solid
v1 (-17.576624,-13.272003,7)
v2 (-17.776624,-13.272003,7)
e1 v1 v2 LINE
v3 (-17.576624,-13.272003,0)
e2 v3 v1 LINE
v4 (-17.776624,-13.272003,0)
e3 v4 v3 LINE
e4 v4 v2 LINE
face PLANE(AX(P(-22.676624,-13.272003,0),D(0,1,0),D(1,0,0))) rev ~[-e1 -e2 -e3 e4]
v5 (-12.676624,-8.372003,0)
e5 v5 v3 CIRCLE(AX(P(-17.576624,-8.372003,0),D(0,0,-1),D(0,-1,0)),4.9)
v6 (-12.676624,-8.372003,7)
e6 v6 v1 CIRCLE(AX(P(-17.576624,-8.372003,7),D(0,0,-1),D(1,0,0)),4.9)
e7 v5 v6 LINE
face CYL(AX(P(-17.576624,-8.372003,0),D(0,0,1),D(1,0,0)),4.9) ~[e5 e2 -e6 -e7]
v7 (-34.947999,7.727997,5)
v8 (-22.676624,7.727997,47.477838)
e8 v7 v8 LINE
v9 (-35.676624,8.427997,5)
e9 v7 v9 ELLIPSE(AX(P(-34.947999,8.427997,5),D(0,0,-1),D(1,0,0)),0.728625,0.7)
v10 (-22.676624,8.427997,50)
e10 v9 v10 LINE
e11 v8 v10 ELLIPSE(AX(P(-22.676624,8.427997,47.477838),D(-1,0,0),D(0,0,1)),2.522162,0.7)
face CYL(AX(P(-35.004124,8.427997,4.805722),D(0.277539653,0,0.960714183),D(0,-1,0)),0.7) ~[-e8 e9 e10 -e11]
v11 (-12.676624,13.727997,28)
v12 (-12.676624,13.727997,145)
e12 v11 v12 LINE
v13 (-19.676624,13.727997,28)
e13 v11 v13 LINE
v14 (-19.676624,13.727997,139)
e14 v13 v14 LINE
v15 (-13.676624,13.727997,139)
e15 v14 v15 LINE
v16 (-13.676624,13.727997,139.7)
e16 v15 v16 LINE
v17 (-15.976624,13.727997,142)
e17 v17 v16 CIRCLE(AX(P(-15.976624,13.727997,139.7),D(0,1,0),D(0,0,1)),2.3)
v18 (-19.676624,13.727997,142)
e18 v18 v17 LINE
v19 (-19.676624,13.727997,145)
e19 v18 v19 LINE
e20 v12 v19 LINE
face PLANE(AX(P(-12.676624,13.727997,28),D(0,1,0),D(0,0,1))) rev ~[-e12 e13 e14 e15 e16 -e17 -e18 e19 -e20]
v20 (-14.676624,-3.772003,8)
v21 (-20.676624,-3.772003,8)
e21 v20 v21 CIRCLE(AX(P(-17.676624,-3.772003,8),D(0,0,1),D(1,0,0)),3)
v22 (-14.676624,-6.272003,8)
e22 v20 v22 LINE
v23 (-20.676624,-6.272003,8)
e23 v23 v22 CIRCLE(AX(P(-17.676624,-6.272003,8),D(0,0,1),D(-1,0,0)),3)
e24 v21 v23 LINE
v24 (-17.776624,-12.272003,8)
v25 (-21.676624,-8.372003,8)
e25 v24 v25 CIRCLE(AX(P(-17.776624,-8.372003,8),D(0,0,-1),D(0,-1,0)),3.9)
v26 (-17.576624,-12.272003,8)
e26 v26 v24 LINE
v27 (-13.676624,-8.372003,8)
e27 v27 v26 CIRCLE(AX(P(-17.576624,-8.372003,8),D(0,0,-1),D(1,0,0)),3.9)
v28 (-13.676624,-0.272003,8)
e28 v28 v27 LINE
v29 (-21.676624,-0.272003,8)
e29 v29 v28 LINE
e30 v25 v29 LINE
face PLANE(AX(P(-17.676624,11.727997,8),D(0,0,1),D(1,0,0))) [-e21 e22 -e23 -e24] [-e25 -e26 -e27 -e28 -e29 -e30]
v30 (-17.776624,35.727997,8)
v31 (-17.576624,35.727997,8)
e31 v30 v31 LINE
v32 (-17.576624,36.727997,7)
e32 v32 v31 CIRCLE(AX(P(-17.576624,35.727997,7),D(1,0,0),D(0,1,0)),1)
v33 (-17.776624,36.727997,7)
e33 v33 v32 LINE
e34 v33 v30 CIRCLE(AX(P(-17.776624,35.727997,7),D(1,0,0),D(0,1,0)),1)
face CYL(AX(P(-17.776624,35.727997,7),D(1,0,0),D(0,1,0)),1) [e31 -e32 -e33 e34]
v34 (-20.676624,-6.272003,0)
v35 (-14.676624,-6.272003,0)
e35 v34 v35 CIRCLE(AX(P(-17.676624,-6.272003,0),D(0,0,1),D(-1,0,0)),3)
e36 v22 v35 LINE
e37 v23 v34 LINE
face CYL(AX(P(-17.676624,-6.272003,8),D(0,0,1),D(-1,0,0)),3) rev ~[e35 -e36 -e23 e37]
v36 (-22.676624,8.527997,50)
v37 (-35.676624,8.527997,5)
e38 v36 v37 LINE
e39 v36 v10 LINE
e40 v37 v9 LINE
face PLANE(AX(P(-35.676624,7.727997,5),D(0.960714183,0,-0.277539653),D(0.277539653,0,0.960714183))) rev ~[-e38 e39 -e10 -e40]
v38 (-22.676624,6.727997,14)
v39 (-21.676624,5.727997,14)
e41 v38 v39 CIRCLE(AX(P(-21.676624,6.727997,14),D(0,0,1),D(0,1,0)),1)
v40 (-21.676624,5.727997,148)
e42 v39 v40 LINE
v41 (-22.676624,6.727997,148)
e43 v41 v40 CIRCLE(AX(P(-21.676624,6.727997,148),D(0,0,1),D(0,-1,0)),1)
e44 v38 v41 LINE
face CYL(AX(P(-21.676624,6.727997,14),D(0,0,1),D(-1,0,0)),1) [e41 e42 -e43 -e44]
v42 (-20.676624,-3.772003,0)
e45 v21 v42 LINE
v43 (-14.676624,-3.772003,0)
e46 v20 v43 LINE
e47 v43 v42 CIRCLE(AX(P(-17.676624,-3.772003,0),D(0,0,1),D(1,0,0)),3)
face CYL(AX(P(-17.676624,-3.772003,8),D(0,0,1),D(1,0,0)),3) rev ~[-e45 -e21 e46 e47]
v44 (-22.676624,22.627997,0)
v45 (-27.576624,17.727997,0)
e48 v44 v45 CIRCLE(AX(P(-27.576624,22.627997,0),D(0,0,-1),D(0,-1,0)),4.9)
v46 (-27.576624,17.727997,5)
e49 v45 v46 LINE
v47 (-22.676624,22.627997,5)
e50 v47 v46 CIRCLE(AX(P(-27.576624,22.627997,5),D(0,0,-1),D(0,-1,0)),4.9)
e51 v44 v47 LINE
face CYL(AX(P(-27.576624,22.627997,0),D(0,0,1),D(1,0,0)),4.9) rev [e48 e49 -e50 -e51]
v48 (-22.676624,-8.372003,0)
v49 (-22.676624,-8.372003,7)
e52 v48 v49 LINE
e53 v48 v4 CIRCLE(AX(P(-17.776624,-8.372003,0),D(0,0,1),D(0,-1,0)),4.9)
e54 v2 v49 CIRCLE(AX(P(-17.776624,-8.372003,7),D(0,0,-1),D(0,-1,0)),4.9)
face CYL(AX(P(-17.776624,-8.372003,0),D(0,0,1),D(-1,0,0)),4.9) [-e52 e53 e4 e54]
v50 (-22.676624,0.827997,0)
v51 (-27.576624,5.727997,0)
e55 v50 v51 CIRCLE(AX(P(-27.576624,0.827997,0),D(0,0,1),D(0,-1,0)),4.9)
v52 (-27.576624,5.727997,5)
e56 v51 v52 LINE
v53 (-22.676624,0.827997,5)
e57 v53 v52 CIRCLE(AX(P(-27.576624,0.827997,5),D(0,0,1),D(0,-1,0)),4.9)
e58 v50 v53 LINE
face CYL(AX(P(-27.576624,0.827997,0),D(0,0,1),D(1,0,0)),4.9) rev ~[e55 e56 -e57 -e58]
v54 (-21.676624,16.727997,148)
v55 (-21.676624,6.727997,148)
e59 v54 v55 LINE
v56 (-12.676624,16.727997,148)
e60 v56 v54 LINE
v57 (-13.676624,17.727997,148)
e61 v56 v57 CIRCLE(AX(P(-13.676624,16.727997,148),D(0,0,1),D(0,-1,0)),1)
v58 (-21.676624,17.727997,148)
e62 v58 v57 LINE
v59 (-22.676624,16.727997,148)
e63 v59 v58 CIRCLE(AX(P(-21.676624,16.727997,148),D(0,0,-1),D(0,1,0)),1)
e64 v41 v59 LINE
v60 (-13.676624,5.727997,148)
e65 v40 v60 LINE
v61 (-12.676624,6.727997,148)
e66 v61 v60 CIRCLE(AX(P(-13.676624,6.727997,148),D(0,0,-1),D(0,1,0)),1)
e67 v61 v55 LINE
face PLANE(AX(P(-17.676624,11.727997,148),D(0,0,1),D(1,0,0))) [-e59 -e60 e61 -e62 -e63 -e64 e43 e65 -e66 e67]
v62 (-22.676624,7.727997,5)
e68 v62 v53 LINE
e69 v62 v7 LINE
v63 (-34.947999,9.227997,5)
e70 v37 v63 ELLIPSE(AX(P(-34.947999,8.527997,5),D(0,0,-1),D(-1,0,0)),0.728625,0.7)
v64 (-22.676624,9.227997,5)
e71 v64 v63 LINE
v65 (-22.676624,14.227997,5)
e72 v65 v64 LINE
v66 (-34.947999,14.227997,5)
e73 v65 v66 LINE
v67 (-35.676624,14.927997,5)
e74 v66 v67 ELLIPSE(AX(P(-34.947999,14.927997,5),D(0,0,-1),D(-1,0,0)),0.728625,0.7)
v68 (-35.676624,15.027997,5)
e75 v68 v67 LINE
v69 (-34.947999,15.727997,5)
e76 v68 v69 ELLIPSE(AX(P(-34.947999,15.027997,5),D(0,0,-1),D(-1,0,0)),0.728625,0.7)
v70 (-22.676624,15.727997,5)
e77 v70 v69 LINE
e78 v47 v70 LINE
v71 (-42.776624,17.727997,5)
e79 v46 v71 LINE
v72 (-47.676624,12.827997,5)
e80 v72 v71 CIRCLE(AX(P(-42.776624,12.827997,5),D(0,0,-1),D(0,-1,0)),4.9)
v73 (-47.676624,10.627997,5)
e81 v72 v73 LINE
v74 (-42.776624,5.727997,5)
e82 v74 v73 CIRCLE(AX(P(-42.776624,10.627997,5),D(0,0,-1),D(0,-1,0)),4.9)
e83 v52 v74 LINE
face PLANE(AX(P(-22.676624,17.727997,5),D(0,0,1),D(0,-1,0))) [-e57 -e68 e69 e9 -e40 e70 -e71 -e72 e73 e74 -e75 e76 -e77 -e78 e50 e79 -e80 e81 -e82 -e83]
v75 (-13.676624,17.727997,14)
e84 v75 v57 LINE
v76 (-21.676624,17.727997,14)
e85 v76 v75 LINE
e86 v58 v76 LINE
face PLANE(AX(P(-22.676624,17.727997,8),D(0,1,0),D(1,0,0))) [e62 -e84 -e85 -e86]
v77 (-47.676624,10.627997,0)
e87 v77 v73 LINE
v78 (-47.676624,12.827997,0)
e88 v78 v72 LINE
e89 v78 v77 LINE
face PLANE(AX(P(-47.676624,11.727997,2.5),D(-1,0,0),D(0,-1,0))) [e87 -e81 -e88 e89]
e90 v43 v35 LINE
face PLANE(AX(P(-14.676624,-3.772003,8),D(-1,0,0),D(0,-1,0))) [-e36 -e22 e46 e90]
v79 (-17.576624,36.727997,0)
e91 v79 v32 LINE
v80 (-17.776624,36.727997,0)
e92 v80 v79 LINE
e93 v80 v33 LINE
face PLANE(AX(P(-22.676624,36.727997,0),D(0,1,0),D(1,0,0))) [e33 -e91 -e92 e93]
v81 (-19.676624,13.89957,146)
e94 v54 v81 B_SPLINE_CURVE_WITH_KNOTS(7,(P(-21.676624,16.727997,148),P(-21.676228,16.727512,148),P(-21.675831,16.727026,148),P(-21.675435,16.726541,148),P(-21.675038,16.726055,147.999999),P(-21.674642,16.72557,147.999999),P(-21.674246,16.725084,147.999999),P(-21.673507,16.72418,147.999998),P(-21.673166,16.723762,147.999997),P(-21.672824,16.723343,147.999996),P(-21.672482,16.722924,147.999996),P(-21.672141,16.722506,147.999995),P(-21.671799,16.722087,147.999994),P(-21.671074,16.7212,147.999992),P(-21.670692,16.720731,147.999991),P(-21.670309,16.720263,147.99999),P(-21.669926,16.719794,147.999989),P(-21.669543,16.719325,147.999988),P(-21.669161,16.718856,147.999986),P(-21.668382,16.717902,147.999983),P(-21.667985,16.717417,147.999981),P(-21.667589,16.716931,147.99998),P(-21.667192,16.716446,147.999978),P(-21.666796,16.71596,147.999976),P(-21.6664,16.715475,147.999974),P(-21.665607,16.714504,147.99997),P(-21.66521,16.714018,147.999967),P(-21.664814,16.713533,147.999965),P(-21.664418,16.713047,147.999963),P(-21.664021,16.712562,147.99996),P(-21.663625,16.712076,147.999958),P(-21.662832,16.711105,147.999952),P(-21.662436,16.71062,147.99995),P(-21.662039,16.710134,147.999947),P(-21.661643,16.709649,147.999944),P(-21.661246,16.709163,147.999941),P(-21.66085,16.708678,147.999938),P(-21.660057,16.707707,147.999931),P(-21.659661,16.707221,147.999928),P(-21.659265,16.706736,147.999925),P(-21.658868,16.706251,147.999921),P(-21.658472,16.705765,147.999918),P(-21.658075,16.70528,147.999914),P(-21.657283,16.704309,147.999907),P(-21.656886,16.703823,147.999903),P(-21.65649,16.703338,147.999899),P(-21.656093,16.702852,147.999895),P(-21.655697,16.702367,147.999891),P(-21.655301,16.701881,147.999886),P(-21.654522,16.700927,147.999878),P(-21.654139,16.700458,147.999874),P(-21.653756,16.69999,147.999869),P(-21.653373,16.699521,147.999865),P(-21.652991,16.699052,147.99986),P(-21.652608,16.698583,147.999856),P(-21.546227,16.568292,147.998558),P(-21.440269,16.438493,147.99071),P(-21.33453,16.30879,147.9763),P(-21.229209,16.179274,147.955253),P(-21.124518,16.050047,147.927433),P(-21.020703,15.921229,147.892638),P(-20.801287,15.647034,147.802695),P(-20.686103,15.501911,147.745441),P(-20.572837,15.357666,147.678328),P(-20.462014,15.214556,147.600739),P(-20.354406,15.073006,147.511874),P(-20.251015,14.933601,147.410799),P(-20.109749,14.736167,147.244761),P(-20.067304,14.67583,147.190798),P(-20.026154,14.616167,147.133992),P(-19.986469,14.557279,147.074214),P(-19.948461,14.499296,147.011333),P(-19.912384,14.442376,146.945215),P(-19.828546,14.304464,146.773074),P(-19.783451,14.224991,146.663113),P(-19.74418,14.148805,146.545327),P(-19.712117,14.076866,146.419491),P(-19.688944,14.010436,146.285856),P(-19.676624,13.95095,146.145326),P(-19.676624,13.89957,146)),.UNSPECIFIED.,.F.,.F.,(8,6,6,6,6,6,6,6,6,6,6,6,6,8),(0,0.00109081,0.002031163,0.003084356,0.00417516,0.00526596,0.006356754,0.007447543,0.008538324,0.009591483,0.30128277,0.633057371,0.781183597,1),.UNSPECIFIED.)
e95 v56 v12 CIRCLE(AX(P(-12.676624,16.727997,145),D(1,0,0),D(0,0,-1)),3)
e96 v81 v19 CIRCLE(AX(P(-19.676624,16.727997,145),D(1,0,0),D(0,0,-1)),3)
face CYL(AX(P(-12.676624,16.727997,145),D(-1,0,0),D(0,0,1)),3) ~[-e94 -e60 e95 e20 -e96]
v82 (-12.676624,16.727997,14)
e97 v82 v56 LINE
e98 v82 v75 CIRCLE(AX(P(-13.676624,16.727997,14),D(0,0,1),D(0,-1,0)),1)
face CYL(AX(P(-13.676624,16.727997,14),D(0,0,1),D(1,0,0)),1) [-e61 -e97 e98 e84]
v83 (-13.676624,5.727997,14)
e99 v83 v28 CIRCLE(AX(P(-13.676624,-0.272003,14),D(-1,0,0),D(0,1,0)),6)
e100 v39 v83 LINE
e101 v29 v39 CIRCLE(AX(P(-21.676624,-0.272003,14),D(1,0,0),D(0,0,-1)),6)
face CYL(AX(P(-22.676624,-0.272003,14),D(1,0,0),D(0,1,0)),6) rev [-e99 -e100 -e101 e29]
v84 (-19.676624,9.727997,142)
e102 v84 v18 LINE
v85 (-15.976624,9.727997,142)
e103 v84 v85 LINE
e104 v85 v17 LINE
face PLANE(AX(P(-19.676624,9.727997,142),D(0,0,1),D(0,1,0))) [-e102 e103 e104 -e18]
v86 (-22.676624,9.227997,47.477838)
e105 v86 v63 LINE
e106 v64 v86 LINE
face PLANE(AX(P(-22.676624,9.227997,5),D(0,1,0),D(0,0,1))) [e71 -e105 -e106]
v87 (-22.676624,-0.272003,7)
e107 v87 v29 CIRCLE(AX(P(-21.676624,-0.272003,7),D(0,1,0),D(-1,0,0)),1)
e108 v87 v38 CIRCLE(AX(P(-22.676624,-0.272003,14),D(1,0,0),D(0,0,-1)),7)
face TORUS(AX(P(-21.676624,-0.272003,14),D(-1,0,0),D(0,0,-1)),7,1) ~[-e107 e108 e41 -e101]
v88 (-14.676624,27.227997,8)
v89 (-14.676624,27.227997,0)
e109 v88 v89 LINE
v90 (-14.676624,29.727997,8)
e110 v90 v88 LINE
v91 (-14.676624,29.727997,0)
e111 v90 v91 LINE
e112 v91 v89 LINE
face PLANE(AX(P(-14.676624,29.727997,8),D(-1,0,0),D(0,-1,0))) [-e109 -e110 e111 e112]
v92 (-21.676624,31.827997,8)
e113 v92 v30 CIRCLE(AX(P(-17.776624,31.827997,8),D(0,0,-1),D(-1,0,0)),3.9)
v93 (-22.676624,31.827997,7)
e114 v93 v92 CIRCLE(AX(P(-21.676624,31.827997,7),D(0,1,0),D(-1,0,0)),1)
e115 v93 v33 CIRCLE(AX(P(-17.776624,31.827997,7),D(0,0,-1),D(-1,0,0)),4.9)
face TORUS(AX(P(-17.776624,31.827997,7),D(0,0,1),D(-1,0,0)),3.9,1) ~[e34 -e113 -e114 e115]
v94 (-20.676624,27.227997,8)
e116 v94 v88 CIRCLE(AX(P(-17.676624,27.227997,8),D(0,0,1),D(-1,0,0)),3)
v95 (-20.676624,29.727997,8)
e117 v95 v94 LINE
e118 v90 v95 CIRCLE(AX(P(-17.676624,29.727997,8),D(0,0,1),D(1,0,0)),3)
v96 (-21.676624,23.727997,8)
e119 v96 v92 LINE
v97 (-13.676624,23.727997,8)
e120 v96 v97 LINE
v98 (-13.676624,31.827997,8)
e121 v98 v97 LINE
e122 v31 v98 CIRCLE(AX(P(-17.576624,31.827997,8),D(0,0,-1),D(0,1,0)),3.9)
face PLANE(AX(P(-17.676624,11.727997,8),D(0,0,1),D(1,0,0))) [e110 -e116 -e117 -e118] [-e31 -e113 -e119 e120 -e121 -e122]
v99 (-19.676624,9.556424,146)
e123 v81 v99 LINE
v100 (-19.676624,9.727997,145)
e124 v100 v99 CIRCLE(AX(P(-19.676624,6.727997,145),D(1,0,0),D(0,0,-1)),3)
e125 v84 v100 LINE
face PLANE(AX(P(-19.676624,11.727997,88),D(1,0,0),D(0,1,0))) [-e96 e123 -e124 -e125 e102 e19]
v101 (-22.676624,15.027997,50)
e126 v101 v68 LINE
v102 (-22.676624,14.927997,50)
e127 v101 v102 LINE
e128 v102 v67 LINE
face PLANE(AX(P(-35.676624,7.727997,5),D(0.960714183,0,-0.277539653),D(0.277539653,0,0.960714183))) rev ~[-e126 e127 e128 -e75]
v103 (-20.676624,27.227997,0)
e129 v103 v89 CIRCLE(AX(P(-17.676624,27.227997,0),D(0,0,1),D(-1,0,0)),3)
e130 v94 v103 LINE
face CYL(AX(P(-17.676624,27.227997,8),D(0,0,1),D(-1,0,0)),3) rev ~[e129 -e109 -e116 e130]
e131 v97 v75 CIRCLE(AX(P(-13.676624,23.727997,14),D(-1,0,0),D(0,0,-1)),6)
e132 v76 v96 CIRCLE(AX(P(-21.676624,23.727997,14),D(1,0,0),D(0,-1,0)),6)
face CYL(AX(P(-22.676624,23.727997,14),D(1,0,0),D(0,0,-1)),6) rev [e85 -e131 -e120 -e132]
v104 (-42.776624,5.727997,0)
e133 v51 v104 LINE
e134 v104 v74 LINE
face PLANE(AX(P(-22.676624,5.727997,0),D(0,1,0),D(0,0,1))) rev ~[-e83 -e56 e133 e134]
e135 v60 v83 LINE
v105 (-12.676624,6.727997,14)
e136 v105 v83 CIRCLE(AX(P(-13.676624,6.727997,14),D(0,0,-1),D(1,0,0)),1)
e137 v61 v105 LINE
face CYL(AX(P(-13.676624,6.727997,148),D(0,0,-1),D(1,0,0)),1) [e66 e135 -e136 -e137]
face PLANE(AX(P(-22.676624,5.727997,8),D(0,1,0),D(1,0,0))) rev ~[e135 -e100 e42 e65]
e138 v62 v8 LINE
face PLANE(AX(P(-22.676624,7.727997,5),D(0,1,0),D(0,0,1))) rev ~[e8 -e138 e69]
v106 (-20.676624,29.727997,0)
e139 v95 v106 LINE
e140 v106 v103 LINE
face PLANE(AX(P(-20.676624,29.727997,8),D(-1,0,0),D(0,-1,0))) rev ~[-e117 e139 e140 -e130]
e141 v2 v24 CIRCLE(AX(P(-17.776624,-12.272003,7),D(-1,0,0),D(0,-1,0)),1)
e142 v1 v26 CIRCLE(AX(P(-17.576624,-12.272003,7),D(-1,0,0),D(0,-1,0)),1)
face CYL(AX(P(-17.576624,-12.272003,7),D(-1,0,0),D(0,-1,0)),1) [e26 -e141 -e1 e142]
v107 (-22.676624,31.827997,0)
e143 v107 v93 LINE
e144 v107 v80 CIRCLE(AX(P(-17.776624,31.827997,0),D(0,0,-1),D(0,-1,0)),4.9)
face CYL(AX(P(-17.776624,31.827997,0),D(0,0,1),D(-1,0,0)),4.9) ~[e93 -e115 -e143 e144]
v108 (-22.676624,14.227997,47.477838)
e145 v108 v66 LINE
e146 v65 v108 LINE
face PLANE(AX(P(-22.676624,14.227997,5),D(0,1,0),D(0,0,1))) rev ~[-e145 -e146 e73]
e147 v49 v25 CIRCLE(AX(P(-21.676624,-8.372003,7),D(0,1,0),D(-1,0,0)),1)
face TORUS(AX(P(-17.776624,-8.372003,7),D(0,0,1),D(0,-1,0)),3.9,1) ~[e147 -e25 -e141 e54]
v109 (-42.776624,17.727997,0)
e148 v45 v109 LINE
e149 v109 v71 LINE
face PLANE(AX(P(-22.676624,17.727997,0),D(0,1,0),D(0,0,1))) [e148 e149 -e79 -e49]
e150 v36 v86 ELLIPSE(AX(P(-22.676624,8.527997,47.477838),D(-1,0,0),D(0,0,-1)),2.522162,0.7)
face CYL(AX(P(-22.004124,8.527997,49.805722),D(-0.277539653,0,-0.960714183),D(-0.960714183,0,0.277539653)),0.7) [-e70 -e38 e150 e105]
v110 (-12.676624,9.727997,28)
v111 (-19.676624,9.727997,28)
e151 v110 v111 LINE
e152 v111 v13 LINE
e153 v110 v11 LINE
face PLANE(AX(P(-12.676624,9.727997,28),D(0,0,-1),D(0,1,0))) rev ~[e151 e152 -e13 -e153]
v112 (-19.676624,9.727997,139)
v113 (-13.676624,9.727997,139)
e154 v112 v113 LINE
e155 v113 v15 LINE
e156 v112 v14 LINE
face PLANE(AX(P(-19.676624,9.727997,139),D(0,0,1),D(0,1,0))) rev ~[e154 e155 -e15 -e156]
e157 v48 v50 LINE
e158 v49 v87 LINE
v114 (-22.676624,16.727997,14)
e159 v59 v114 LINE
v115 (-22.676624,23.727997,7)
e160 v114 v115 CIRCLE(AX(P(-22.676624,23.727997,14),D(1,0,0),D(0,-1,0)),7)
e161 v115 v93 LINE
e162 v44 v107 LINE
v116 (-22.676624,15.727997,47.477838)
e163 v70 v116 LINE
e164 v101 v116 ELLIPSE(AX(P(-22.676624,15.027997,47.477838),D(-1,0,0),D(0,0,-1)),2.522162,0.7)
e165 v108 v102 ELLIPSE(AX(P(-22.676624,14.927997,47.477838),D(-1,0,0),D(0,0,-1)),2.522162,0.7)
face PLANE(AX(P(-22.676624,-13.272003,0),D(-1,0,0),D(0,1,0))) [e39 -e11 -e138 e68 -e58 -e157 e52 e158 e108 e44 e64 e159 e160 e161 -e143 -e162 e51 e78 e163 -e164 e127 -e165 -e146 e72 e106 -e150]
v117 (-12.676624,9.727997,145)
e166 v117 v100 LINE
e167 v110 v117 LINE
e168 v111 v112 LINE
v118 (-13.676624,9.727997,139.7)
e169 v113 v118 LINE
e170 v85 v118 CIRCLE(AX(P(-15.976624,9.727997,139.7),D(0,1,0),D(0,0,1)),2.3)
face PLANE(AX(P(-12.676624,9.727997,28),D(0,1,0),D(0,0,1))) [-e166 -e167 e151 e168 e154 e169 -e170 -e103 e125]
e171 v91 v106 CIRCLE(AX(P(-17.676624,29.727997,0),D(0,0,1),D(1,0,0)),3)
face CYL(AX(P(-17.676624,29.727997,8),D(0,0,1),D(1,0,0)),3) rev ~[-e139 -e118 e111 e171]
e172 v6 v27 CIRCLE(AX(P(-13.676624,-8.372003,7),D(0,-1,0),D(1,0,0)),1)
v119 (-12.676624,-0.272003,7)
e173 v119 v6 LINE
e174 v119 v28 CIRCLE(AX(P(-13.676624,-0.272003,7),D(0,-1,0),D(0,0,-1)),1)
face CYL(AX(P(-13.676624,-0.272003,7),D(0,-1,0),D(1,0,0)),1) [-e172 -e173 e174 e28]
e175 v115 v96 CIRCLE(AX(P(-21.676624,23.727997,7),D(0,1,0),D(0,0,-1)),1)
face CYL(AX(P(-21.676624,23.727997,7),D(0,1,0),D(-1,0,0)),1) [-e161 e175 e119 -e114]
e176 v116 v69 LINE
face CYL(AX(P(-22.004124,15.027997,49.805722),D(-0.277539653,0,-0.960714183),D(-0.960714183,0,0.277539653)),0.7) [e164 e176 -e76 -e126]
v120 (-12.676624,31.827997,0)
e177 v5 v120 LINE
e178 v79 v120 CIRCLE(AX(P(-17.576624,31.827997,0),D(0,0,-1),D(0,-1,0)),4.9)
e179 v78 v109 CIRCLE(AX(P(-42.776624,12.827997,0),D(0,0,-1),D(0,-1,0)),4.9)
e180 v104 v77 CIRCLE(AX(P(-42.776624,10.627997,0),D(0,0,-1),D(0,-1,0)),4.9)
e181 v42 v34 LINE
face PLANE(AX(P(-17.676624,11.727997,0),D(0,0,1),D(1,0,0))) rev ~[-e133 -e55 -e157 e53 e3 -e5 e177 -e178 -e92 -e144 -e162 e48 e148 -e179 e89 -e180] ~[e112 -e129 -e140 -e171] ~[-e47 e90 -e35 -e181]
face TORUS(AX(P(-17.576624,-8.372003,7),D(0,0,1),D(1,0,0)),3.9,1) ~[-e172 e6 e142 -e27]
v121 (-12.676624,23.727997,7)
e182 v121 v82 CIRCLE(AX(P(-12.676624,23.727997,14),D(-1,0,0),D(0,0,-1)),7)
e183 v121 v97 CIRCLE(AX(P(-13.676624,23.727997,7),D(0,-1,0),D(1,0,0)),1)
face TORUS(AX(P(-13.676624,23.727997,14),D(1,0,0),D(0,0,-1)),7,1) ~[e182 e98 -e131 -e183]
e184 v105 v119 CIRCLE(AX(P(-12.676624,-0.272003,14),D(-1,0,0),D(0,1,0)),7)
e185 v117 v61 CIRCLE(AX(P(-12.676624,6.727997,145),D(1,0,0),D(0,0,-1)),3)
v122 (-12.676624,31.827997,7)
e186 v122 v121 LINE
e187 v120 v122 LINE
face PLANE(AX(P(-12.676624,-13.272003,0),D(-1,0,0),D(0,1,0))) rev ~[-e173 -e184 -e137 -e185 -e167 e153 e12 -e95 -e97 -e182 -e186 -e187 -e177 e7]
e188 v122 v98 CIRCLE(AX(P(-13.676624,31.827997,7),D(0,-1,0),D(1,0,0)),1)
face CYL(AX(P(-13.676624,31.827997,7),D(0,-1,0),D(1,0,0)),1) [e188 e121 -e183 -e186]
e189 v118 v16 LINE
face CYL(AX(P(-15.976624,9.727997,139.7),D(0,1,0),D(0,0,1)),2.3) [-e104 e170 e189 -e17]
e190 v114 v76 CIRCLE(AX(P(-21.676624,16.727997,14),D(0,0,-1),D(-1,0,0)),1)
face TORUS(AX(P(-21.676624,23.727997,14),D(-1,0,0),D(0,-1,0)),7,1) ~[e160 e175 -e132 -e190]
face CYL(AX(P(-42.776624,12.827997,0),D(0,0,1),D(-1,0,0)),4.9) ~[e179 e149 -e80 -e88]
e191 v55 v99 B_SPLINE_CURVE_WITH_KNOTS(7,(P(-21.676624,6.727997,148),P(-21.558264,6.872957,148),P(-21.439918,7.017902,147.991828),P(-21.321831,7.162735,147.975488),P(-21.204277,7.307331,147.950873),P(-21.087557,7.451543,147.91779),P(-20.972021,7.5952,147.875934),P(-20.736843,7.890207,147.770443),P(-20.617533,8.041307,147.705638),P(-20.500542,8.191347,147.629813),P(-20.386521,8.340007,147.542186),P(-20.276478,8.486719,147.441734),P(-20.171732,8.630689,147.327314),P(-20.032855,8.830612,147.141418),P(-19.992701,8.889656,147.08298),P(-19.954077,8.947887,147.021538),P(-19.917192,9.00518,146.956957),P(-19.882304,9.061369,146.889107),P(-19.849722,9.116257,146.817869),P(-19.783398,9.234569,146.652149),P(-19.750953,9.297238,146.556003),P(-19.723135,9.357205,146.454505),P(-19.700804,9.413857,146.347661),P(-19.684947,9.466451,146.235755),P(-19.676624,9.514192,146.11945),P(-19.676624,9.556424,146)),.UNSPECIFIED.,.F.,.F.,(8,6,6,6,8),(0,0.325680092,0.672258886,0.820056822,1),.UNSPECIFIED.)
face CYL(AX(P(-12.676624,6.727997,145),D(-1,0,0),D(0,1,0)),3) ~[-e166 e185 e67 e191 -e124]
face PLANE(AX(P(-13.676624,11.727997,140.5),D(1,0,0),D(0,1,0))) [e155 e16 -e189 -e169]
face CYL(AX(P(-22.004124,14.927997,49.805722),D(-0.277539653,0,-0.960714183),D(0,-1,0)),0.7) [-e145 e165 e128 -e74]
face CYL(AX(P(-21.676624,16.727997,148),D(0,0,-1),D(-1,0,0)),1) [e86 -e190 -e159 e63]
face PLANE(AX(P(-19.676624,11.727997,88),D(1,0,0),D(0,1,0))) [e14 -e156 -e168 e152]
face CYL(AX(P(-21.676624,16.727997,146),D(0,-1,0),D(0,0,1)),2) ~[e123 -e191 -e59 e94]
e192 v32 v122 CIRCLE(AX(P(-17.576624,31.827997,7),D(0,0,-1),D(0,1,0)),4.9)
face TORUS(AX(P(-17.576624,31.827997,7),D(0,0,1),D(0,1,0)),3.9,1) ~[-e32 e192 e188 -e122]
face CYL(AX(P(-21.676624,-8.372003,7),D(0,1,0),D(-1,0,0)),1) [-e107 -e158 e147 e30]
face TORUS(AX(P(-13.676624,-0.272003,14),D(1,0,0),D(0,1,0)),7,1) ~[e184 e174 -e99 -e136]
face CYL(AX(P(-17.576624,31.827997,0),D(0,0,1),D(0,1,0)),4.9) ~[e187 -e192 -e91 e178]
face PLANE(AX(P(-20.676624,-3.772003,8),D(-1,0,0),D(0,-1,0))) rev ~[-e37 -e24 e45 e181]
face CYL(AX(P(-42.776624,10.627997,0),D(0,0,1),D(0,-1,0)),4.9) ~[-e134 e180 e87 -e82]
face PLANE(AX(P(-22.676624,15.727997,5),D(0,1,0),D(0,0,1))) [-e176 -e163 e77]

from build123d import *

# Parameters (mm, degrees)
SKETCH_W        = 10
SKETCH_H        = 50
PAD_DEPTH       = 8
SKETCH001_W     = 10
SKETCH001_H     = 12
PAD001_DEPTH    = 140
SKETCH002_W     = 4
SKETCH002_H     = 120
POCKET_DEPTH    = 7
POCKET001_DEPTH = 8.001
SKETCH004_W     = 12
SKETCH004_H     = 5
PAD002_DEPTH    = 25
SKETCH005_W     = 1.5
SKETCH005_H     = 45
PAD003_DEPTH    = 13
POCKET002_DEPTH = 29.001
FILLET_R        = 4.9
FILLET001_R     = 6
FILLET002_R     = 0.7
FILLET003_R     = 1
SKETCH007_W     = 4
SKETCH007_H     = 3
PAD004_DEPTH    = 6
FILLET004_R     = 2.3
FILLET005_R     = 3
FILLET006_R     = 2


with BuildPart() as part:
    # Sketch → Pad (new body)
    with BuildSketch(Plane.XY):
        with Locations((-17.676624, 11.727997)):
            Rectangle(SKETCH_W, SKETCH_H)
    extrude(amount=PAD_DEPTH)

    # Sketch001 (on Face6 of Pad) → Pad001 (join)
    with BuildSketch(Plane.XY.offset(8)):
        with Locations((-17.676624, 11.727997)):
            Rectangle(SKETCH001_W, SKETCH001_H)
    extrude(amount=PAD001_DEPTH)

    # Sketch002 (on Face9 of Pad001) → Pocket (cut)
    with BuildSketch(Plane.YZ.offset(-12.676624)):
        with Locations((11.727997, 88)):
            Rectangle(SKETCH002_W, SKETCH002_H)
    extrude(amount=-POCKET_DEPTH, mode=Mode.SUBTRACT)

    # Sketch003 (on Face7 of Pocket) → Pocket001 (cut, through all)
    with BuildSketch(Plane.XY.offset(8)):
        with BuildLine():
            ThreePointArc((-14.676624, -3.772003), (-17.676624, -0.772003), (-20.676624, -3.772003))
            Line((-20.676624, -3.772003), (-20.676624, -6.272003))
            ThreePointArc((-20.676624, -6.272003), (-17.676624, -9.272003), (-14.676624, -6.272003))
            Line((-14.676624, -3.772003), (-14.676624, -6.272003))
        make_face()
        with BuildLine():
            ThreePointArc((-14.676624, 29.727997), (-17.676624, 32.727997), (-20.676624, 29.727997))
            Line((-20.676624, 29.727997), (-20.676624, 27.227997))
            ThreePointArc((-20.676624, 27.227997), (-17.676624, 24.227997), (-14.676624, 27.227997))
            Line((-14.676624, 29.727997), (-14.676624, 27.227997))
        make_face()
    extrude(amount=-POCKET001_DEPTH, mode=Mode.SUBTRACT)

    # Sketch004 (on Face2 of Pocket001) → Pad002 (join)
    with BuildSketch(Plane(origin=(-22.676624, 0, 0), x_dir=(0, -1, 0), z_dir=(-1, 0, 0))):
        with Locations((-11.727997, 2.5)):
            Rectangle(SKETCH004_W, SKETCH004_H)
    extrude(amount=PAD002_DEPTH)

    # Sketch005 (on Face9 of Pad002) → Pad003 (join)
    with BuildSketch(Plane(origin=(-22.676624, 0, 0), x_dir=(0, -1, 0), z_dir=(-1, 0, 0))):
        with Locations((-8.477997, 27.5)):
            Rectangle(SKETCH005_W, SKETCH005_H)
        with Locations((-14.977997, 27.5)):
            Rectangle(SKETCH005_W, SKETCH005_H)
    extrude(amount=PAD003_DEPTH)

    # Sketch006 (on Face29 of Pad003) → Pocket002 (cut, through all)
    with BuildSketch(Plane.XZ.offset(-7.727997)):
        Polygon((-35.676624, 5), (-22.676624, 50), (-35.676624, 50), align=None)
    extrude(amount=-POCKET002_DEPTH, mode=Mode.SUBTRACT)

    # Fillet
    fillet_edges = [part.edges().sort_by_distance(p)[0] for p in [
        (-12.676624, 36.727997, 4),
        (-22.676624, 36.727997, 4),
        (-22.676624, 17.727997, 2.5),
        (-47.676624, 17.727997, 2.5),
        (-47.676624, 5.727997, 2.5),
        (-22.676624, 5.727997, 2.5),
        (-22.676624, -13.272003, 4),
        (-12.676624, -13.272003, 4),
    ]]
    fillet(fillet_edges, radius=FILLET_R)

    # Fillet001
    fillet001_edges = [part.edges().sort_by_distance(p)[0] for p in [
        (-17.676624, 5.727997, 8),
        (-17.676624, 17.727997, 8),
    ]]
    fillet(fillet001_edges, radius=FILLET001_R)

    # Fillet002
    fillet002_edges = [part.edges().sort_by_distance(p)[0] for p in [
        (-29.176624, 7.727997, 27.5),
        (-29.176624, 9.227997, 27.5),
        (-29.176624, 14.227997, 27.5),
        (-29.176624, 15.727997, 27.5),
    ]]
    fillet(fillet002_edges, radius=FILLET002_R)

    # Fillet003
    fillet003_edges = [part.edges().sort_by_distance(p)[0] for p in [
        (-22.676624, 5.727997, 81),
        (-22.676624, 17.727997, 99),
    ]]
    fillet(fillet003_edges, radius=FILLET003_R)

    # Sketch007 (on Face57 of Fillet003) → Pad004 (join)
    with BuildSketch(Plane.YZ.offset(-19.676624)):
        with Locations((11.727997, 140.5)):
            Rectangle(SKETCH007_W, SKETCH007_H)
    extrude(amount=PAD004_DEPTH)

    # Fillet004
    fillet004_edges = [part.edges().sort_by_distance(p)[0] for p in [
        (-13.676624, 11.727997, 142),
    ]]
    fillet(fillet004_edges, radius=FILLET004_R)

    # Fillet005
    fillet005_edges = [part.edges().sort_by_distance(p)[0] for p in [
        (-16.176624, 9.727997, 148),
        (-16.176624, 13.727997, 148),
    ]]
    fillet(fillet005_edges, radius=FILLET005_R)

    # Fillet006
    fillet006_edges = [part.edges().sort_by_distance(p)[0] for p in [
        (-19.676624, 11.727997, 148),
    ]]
    fillet(fillet006_edges, radius=FILLET006_R)


solid = part.part
